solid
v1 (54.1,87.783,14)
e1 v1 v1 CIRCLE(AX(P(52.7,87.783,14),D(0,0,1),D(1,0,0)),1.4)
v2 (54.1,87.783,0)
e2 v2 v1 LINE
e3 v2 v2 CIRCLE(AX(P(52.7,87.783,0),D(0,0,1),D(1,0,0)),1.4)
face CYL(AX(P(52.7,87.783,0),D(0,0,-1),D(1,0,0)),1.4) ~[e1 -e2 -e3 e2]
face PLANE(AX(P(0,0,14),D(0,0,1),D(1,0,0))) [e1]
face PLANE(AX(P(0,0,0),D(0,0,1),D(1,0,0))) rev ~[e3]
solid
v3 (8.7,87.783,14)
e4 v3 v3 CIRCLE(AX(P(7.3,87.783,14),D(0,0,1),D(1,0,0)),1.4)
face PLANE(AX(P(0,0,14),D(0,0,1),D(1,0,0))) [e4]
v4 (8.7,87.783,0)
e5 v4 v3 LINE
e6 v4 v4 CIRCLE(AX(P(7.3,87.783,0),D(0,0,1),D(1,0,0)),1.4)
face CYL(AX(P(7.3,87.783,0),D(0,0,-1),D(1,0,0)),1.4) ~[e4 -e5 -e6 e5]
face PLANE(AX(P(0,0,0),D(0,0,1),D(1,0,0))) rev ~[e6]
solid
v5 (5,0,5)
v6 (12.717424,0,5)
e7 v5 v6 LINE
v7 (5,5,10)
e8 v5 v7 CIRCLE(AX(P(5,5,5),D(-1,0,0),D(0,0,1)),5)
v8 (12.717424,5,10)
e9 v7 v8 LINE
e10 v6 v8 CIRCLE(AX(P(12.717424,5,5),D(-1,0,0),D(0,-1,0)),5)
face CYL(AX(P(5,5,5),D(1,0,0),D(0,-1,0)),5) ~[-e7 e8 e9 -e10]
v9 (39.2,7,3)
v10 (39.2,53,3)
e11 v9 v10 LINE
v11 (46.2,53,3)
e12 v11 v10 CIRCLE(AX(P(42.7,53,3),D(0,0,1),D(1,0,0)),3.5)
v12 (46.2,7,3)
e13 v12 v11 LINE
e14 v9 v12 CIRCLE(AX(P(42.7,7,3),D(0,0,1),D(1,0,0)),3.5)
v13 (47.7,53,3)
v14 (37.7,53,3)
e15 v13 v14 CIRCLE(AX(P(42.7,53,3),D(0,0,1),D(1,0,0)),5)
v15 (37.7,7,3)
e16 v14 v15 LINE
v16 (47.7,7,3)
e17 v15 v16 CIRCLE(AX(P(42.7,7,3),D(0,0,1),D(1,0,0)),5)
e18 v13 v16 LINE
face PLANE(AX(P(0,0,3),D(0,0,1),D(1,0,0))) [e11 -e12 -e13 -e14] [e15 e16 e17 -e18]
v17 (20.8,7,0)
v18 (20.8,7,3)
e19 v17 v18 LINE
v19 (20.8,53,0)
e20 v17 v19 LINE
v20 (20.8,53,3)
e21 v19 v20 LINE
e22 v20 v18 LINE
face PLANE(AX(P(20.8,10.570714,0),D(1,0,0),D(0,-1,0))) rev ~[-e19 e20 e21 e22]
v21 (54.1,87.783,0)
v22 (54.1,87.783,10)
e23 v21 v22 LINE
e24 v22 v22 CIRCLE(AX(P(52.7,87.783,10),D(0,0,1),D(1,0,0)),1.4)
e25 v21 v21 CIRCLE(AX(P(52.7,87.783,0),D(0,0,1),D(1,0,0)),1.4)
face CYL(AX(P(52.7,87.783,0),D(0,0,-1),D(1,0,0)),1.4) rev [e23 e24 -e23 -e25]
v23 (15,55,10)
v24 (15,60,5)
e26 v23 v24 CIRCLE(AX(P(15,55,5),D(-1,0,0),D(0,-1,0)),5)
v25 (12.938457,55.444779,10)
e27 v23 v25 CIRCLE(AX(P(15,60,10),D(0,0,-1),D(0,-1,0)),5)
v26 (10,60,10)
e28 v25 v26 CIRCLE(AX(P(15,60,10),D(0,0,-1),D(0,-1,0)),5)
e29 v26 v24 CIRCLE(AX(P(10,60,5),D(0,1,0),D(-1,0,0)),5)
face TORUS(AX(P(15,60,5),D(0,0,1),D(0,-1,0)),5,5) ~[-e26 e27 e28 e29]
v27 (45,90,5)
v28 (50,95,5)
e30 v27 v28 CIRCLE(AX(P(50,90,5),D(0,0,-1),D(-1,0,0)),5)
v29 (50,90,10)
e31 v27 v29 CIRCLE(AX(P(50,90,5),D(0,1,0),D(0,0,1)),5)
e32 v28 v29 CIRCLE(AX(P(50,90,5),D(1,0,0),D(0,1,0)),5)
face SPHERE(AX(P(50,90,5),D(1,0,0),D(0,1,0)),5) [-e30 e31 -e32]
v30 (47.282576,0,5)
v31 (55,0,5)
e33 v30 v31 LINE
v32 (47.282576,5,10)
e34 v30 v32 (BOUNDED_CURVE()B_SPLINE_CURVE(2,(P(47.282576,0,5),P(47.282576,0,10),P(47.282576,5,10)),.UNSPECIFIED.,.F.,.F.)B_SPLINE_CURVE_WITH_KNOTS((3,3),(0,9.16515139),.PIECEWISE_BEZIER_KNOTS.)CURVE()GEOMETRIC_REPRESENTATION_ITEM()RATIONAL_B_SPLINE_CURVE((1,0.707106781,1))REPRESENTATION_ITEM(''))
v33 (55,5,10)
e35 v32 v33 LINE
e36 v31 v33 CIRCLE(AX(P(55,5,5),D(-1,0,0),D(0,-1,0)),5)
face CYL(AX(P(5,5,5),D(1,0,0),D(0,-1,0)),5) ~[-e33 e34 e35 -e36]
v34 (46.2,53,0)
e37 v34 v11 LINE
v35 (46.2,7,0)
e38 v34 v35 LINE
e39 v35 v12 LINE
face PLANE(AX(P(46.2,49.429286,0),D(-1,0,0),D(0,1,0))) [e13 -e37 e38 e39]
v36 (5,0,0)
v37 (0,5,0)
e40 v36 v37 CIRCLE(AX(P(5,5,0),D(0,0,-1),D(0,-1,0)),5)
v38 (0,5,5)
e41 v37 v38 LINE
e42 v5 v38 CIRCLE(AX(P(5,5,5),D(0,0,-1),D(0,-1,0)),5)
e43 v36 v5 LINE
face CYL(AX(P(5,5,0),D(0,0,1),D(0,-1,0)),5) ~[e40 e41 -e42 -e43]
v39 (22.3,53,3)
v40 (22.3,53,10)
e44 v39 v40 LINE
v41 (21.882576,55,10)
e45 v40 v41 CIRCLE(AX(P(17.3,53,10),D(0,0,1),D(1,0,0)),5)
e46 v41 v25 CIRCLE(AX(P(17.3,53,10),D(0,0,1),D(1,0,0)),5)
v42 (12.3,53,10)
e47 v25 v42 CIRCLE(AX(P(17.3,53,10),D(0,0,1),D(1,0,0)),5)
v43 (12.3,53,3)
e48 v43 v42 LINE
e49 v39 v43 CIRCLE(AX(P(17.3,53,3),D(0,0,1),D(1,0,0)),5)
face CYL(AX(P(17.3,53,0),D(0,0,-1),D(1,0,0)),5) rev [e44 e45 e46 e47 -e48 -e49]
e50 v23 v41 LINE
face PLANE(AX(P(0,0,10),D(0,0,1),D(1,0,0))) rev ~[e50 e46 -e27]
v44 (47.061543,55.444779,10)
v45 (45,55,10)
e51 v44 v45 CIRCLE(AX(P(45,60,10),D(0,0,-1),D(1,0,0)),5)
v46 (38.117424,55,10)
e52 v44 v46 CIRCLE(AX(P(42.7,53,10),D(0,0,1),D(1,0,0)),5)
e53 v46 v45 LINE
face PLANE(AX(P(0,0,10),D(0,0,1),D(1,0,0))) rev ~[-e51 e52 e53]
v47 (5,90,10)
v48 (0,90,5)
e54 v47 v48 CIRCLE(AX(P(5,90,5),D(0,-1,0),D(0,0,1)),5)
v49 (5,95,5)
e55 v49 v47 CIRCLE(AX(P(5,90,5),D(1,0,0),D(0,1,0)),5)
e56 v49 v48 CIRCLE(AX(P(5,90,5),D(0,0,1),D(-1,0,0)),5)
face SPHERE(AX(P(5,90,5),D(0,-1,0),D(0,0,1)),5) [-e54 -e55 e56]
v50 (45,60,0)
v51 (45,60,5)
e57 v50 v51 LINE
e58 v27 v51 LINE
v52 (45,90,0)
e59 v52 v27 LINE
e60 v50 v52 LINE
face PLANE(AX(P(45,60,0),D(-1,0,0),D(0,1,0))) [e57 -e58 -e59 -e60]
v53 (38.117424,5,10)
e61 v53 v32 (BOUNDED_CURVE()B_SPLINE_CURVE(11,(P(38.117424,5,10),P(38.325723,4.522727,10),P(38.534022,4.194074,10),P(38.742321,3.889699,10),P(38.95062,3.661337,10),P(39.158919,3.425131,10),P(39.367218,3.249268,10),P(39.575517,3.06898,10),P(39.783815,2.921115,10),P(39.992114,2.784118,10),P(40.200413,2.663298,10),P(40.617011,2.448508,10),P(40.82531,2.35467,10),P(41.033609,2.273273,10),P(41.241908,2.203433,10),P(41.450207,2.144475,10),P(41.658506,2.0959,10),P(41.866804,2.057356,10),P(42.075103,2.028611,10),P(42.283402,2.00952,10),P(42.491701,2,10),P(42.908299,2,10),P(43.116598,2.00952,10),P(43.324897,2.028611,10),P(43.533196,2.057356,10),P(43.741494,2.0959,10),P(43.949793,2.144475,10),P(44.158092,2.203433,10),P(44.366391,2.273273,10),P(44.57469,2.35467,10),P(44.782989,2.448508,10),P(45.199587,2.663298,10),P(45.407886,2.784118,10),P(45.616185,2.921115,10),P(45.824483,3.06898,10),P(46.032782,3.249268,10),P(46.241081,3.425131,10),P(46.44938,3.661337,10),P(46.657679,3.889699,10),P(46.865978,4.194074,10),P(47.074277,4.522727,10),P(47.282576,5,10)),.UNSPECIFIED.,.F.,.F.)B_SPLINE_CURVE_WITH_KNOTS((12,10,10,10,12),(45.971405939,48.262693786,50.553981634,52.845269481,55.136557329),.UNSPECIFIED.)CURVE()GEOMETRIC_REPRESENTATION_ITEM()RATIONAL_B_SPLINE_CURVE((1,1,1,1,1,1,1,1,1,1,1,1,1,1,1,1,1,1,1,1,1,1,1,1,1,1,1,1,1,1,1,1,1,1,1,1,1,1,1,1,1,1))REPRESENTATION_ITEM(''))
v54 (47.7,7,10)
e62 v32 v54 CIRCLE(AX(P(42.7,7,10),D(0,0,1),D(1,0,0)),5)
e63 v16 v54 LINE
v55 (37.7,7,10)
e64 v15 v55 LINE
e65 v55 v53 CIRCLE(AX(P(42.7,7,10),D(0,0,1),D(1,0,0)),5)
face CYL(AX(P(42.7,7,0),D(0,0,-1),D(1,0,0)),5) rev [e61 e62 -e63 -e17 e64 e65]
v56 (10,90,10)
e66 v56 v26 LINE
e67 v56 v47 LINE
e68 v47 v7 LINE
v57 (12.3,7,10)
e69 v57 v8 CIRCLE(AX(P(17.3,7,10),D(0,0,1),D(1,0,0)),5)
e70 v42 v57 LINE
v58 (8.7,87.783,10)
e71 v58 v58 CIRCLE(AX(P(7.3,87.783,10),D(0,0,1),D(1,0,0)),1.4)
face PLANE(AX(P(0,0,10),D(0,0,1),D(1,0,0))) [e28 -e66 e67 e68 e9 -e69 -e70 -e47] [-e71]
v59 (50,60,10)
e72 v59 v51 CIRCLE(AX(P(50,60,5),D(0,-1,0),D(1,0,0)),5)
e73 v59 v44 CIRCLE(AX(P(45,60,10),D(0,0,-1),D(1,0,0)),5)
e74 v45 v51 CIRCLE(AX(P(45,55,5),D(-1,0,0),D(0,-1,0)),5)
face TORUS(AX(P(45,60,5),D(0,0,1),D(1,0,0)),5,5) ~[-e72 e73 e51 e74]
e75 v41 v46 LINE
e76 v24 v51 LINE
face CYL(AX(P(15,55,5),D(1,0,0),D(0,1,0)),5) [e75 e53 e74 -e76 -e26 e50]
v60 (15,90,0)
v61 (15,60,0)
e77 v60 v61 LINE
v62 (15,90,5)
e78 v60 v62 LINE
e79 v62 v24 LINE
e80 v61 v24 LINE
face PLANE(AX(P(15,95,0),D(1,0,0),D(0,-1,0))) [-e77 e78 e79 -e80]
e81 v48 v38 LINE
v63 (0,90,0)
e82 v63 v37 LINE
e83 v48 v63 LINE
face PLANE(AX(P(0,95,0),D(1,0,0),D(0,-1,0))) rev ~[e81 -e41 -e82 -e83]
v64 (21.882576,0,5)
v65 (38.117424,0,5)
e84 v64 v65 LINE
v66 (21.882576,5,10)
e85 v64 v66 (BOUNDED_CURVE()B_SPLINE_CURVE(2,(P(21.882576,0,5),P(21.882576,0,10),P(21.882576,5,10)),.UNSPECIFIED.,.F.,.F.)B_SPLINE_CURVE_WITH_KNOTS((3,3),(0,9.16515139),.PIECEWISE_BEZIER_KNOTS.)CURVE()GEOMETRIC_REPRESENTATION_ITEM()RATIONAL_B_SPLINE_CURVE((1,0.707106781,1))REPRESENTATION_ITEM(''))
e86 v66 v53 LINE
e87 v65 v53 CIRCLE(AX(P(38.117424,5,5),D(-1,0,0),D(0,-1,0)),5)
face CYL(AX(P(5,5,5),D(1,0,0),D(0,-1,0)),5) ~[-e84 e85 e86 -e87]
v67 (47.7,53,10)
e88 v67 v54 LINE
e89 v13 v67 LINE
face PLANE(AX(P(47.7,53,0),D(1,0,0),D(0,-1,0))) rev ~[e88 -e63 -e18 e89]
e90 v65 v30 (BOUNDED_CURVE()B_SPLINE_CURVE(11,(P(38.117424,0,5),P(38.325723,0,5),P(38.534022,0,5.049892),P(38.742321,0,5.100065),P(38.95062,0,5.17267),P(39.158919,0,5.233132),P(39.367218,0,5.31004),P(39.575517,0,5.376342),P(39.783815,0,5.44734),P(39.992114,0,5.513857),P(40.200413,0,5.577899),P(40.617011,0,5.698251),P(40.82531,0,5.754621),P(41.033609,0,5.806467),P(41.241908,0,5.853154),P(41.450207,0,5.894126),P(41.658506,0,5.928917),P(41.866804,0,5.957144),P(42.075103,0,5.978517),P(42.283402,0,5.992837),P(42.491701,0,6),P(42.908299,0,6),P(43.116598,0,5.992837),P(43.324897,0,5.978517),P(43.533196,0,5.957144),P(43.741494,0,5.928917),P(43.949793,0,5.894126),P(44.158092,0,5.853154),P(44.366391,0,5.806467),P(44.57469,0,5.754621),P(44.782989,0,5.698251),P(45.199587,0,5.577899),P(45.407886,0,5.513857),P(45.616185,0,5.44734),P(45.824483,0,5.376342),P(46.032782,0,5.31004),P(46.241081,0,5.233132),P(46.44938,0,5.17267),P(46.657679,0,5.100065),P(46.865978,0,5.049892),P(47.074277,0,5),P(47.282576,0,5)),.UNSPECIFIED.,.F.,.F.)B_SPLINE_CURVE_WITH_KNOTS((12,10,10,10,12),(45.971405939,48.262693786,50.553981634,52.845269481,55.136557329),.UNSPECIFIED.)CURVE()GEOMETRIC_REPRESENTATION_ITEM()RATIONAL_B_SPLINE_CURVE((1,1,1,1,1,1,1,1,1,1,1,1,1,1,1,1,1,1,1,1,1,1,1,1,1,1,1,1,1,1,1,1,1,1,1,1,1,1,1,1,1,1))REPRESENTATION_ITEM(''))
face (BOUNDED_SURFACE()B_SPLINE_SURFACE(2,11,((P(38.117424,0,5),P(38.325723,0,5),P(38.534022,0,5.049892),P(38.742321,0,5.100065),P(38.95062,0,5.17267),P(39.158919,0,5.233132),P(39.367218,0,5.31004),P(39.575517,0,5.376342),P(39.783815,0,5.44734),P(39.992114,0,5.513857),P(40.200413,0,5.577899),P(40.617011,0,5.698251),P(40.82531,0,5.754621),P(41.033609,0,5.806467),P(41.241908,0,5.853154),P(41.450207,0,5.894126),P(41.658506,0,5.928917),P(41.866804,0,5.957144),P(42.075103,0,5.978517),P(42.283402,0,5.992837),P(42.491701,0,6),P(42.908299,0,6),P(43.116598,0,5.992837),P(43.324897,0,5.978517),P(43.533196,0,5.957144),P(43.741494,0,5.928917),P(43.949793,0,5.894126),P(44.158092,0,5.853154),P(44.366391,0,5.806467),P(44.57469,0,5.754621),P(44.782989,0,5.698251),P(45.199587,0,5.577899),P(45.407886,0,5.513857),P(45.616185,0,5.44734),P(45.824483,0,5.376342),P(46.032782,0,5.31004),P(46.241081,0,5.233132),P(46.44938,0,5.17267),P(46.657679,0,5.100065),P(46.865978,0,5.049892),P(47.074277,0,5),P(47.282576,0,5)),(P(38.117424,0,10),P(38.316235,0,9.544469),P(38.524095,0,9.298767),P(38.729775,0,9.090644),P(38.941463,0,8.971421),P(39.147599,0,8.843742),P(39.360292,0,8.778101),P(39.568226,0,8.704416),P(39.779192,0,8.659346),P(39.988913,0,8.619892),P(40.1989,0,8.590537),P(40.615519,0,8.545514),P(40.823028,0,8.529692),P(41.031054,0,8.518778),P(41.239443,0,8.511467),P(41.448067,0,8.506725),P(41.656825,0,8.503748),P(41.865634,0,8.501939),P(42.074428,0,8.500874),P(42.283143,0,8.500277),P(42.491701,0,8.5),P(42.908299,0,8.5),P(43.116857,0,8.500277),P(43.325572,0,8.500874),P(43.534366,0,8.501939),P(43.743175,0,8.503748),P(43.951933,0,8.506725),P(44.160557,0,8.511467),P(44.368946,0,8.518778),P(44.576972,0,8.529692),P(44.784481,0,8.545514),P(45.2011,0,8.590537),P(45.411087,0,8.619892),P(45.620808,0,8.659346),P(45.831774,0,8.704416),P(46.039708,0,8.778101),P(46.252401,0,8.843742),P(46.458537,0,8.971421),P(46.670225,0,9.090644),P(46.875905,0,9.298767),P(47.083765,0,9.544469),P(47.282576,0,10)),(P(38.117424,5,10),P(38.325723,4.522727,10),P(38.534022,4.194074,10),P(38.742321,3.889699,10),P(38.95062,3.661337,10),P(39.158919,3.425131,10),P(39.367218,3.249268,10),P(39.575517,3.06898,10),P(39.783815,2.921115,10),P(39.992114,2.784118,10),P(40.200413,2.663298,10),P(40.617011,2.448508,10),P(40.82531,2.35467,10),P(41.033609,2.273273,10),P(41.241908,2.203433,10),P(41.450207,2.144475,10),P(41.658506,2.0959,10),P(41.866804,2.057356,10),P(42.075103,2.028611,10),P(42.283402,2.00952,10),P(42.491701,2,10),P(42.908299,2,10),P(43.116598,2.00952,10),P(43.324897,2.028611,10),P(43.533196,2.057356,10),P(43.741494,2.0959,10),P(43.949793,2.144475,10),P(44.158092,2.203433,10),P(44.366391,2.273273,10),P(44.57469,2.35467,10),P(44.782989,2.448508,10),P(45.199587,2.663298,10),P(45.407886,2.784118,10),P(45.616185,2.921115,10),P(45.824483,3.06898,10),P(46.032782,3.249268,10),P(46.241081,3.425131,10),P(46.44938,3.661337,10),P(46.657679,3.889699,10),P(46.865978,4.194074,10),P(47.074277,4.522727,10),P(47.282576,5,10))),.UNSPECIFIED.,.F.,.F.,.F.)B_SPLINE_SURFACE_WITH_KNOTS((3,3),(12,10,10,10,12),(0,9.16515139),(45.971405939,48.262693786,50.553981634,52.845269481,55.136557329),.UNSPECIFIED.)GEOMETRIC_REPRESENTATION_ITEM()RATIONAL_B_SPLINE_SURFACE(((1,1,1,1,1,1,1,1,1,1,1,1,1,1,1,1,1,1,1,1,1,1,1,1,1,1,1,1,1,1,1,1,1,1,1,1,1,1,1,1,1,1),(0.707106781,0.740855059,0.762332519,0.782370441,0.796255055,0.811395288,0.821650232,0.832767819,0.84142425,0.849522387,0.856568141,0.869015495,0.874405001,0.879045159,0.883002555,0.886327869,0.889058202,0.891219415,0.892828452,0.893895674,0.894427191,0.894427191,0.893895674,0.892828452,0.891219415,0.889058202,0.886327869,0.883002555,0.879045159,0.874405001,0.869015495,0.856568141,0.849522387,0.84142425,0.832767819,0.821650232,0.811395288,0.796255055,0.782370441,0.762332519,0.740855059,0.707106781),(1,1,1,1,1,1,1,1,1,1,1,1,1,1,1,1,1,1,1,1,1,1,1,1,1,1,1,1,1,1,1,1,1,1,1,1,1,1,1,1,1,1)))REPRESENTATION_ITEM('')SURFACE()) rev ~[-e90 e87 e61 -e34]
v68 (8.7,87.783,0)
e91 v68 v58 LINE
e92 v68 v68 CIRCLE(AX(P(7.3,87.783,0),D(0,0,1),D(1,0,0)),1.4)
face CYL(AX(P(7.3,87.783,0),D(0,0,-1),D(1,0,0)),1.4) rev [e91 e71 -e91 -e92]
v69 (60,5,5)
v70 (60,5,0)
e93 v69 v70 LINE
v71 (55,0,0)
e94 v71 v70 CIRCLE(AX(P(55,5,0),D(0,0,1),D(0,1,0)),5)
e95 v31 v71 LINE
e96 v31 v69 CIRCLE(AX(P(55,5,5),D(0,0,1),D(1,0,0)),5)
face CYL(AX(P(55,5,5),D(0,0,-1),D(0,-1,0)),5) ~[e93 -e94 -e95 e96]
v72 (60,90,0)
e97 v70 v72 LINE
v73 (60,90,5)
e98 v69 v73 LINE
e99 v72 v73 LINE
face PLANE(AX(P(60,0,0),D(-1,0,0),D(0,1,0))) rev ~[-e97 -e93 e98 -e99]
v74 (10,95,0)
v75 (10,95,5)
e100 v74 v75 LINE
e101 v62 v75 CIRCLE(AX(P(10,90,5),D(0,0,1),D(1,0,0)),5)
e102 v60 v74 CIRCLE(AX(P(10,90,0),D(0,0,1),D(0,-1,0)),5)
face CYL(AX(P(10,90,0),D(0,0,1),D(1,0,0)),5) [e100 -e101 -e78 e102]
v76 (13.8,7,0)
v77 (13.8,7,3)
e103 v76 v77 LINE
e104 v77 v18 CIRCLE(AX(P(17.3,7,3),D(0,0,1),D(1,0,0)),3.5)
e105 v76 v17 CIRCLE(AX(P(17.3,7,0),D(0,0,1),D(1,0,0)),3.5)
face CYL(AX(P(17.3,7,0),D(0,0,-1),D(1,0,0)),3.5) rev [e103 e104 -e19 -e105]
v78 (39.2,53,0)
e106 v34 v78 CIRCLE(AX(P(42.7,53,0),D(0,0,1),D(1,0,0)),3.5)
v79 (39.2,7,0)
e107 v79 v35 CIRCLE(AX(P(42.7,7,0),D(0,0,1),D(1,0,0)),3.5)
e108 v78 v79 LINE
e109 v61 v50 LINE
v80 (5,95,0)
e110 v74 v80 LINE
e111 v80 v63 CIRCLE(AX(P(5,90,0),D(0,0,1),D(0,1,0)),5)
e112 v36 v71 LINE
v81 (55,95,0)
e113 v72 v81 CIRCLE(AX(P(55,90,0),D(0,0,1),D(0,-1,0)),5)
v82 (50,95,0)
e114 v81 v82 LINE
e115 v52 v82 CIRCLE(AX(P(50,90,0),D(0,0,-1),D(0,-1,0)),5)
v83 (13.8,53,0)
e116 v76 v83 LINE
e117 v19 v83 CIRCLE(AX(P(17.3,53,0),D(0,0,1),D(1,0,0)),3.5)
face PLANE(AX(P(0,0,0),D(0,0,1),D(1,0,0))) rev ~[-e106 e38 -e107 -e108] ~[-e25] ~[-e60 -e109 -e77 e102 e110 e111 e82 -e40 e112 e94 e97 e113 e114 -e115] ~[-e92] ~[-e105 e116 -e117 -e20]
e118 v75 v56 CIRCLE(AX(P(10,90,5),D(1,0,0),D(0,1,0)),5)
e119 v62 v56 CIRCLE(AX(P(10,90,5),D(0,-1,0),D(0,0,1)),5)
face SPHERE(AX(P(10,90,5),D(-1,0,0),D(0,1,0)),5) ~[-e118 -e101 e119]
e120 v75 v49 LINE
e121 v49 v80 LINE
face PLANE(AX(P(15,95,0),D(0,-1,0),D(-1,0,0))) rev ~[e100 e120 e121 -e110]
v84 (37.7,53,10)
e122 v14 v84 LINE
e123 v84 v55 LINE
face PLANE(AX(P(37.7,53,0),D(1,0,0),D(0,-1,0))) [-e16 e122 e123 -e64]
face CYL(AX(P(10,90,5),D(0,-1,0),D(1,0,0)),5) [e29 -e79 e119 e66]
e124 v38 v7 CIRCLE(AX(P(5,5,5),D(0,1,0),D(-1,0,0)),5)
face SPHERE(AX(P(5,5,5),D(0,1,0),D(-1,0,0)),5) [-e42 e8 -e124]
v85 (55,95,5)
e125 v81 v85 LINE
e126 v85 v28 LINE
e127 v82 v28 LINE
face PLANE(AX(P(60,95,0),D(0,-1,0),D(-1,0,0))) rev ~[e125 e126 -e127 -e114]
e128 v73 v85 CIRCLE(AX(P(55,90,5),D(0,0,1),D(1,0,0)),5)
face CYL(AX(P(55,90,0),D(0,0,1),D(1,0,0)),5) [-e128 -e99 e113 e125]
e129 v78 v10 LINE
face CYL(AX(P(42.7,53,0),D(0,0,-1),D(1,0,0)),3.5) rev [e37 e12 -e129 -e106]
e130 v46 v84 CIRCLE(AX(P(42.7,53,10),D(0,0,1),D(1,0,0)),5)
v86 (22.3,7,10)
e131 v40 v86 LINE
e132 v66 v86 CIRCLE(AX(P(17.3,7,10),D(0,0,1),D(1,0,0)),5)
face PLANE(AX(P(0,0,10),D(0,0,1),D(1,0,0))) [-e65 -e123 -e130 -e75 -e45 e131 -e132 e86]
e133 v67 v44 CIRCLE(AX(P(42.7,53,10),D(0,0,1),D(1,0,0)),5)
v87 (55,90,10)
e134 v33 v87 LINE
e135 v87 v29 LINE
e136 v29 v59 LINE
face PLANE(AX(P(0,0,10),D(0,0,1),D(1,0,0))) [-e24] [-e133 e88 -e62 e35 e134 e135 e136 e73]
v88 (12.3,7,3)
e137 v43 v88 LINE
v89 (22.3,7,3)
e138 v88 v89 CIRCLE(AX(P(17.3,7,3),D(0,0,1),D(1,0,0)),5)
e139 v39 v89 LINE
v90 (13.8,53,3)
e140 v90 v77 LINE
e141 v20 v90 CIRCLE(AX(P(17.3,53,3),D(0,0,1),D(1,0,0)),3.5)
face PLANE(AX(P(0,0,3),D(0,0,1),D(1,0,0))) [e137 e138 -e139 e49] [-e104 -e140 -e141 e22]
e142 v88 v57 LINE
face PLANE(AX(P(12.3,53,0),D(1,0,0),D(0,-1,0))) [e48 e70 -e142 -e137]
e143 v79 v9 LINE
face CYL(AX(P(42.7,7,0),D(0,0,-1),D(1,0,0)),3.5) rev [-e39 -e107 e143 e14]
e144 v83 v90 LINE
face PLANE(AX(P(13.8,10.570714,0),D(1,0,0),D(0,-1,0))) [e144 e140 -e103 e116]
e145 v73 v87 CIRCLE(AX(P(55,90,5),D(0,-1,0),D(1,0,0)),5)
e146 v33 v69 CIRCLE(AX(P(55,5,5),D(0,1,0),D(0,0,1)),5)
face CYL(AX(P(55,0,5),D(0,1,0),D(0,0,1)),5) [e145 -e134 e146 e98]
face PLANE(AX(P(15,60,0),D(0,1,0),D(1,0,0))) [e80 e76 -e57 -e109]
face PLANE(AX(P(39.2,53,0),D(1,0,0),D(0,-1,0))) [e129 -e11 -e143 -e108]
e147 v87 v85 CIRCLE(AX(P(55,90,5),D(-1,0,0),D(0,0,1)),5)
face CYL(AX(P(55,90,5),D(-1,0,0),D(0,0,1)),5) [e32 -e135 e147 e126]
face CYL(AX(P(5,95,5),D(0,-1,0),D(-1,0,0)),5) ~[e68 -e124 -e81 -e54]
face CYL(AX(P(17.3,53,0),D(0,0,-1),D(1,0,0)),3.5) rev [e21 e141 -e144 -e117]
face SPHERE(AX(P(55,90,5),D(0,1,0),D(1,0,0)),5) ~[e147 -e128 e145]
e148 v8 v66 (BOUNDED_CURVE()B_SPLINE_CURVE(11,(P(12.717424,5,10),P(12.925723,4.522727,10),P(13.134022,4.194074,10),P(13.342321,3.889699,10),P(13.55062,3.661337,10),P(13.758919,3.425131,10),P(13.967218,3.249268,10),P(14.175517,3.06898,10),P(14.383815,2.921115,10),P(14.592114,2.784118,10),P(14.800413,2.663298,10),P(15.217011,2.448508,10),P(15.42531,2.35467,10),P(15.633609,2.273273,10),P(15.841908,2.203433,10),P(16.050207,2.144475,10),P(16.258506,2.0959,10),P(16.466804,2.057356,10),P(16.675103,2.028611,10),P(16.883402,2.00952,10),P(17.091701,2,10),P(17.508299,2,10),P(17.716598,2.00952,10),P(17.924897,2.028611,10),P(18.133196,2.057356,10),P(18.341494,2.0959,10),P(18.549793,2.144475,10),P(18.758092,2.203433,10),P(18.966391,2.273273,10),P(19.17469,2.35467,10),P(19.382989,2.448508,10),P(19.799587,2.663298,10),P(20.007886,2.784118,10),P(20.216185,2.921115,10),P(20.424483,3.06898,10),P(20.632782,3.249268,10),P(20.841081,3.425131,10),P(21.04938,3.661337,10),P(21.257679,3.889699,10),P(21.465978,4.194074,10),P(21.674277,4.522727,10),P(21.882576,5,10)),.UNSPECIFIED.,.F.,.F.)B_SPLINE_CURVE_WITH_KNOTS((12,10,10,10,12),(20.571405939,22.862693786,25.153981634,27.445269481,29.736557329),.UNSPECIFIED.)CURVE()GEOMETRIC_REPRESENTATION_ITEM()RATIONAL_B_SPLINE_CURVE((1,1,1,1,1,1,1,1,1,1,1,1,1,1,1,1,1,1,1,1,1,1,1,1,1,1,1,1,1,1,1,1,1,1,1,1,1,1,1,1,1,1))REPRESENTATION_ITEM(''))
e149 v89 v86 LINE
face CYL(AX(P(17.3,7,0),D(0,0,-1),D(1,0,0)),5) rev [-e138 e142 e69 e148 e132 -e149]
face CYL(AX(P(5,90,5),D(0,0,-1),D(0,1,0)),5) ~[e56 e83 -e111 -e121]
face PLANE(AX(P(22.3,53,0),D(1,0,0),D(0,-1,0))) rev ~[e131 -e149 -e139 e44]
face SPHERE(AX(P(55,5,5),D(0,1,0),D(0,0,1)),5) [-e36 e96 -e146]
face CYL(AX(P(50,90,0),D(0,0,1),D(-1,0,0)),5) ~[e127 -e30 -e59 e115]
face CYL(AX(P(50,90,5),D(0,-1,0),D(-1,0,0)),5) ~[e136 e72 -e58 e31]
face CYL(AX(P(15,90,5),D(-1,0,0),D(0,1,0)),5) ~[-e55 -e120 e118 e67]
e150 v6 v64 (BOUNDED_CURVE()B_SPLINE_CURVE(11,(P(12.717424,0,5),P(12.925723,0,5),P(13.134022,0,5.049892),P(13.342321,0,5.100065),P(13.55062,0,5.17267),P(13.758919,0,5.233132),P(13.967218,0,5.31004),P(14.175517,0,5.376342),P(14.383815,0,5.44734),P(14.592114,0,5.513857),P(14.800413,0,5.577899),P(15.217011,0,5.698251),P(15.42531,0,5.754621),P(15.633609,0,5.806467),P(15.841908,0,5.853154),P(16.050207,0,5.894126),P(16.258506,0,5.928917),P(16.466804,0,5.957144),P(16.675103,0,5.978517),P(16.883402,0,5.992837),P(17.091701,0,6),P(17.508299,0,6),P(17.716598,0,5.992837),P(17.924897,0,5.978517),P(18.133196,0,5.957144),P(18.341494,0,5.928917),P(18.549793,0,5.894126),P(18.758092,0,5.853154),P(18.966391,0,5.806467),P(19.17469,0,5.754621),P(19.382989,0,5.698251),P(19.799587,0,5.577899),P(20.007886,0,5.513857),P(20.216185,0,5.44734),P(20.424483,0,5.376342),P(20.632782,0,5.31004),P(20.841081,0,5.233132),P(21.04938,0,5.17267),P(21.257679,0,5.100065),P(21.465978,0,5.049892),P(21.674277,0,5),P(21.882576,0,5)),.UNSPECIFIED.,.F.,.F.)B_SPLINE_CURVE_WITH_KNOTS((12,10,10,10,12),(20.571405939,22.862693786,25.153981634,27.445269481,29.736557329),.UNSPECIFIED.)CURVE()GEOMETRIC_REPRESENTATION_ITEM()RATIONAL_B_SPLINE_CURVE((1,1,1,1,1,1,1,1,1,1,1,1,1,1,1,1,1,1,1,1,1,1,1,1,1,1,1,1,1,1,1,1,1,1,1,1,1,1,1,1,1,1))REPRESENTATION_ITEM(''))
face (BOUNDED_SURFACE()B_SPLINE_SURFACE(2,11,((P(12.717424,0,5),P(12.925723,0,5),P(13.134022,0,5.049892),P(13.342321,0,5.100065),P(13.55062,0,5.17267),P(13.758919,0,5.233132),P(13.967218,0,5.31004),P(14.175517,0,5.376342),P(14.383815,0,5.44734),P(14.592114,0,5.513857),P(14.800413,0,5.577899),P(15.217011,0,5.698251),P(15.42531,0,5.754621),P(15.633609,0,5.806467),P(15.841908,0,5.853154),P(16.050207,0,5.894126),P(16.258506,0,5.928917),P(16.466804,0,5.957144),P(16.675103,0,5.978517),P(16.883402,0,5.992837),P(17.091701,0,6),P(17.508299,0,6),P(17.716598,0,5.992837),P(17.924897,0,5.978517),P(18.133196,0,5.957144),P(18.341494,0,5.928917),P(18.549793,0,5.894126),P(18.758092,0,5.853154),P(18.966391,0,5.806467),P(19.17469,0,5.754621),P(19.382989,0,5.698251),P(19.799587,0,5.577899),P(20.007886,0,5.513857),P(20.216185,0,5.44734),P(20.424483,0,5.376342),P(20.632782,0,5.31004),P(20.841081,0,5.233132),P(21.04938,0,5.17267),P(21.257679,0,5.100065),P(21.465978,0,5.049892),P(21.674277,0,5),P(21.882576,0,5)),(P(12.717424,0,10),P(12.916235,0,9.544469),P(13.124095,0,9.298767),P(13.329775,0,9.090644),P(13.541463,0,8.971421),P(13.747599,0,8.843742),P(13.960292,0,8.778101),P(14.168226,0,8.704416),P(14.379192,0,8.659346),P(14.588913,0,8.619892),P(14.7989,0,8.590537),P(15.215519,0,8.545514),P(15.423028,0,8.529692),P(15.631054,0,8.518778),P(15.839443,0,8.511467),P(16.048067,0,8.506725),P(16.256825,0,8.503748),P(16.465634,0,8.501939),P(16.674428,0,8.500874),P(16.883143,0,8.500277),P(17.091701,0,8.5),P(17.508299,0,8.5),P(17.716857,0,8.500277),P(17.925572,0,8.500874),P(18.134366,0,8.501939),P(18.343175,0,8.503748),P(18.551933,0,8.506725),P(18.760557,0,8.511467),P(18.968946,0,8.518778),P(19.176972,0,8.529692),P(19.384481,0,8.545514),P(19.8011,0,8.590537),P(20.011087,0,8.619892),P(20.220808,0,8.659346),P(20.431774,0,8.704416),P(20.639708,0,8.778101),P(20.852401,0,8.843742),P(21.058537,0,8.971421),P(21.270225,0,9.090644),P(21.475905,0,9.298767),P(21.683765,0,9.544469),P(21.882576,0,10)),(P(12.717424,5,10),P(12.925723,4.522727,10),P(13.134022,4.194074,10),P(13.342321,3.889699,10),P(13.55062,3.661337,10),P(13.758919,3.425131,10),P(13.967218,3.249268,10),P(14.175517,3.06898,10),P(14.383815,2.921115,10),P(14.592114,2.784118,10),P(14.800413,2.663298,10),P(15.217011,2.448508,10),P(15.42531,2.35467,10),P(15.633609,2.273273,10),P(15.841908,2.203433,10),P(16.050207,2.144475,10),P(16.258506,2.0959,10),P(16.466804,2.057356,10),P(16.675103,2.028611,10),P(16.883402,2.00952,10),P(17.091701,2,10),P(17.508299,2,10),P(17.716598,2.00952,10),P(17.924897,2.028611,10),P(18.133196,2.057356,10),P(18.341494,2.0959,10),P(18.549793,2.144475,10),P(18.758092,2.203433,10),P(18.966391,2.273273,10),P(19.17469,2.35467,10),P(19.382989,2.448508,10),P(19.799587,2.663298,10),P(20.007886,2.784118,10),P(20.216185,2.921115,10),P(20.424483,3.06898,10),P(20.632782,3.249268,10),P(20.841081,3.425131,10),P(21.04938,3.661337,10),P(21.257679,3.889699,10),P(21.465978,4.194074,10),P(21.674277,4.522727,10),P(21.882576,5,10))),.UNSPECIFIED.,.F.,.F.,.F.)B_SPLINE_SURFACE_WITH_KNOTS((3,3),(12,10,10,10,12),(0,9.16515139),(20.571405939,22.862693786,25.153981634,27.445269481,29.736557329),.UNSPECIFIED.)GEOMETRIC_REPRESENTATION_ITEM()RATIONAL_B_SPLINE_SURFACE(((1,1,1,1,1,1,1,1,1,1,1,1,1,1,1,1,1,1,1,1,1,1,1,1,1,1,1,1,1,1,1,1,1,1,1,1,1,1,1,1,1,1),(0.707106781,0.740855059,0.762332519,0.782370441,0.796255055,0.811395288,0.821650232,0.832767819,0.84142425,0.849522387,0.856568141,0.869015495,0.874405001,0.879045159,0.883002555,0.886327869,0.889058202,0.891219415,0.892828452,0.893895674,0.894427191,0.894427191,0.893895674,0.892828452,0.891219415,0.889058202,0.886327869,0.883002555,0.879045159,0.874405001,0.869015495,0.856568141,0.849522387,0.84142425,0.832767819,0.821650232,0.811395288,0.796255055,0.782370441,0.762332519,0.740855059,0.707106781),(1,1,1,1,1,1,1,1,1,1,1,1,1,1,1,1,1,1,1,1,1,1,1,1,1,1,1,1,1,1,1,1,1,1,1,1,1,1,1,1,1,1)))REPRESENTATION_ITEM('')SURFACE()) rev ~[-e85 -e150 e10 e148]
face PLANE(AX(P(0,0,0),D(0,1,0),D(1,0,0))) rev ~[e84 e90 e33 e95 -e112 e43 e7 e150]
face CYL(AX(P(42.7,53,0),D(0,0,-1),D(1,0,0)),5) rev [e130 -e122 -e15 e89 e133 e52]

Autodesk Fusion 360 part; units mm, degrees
sketch "Sketch1" plane through (0, 0, 0) normal (0, 0, 1) x (1, 0, 0)
  line L0 (0, 0) -> (60, 0)
  line L1 (60, 0) -> (60, 95)
  line L2 (60, 95) -> (0, 95)
  line L3 (0, 95) -> (0, 0)
  line L4 (60, 60) -> (0, 60) construction
  line L5 (0, 0) -> (60, 60) construction
  line L6 (0, 60) -> (60, 0) construction
  line L7 (30, 30) -> (30, 60) construction
  line L8 (30, 30) -> (30, 0) construction
  line L9 (42.7, 60) -> (42.7, 0) construction
  line L10 (17.3, 60) -> (17.3, 0) construction
  line L11 (45, 95) -> (45, 60) construction
  line L12 (15, 95) -> (15, 60) construction
  line L13 (52.7, 95) -> (52.7, 60) construction
  line L14 (7.3, 95) -> (7.3, 60) construction
  line L15 (60, 87.783) -> (0, 87.783) construction
  circle A0 centre (52.7, 87.783) radius 1.4
  circle A1 centre (7.3, 87.783) radius 1.4
  line L16 (15, 95) -> (15, 60)
  line L17 (15, 60) -> (45, 60)
  line L18 (45, 60) -> (45, 95)
  line L19 (0, 53) -> (60, 53) construction
  line L20 (0, 7) -> (60, 7) construction
  circle A2 centre (42.7, 53) radius 5
  circle A3 centre (42.7, 7) radius 5
  circle A4 centre (17.3, 7) radius 5
  circle A5 centre (17.3, 53) radius 5
  circle A6 centre (17.3, 53) radius 3.5
  circle A7 centre (17.3, 7) radius 3.5
  circle A8 centre (42.7, 53) radius 3.5
  circle A9 centre (42.7, 7) radius 3.5
  line L21 (12.3, 53) -> (12.3, 7)
  line L22 (22.3, 53) -> (22.3, 7)
  line L23 (13.8, 53) -> (13.8, 7)
  line L24 (20.8, 53) -> (20.8, 7)
  line L25 (37.7, 53) -> (37.7, 7)
  line L26 (39.2, 53) -> (39.2, 7)
  line L27 (46.2, 7) -> (46.2, 53)
  line L28 (47.7, 53) -> (47.7, 7)
  dimension "d1" = 60
  dimension "d2" = 95
  dimension "d3" = 35
  dimension "d4" = 12.7
  dimension "d5" = 12.7
  dimension "d6" = 15
  dimension "d7" = 15
  dimension "d8" = 7.3
  dimension "d9" = 7.3
  dimension "d10" = 27.783
  dimension "d11" = 2.8
  dimension "d12" = 2.8
  dimension "d13" = 7
  dimension "d14" = 7
  dimension "d15" = 10
  dimension "d16" = 10
  dimension "d17" = 10
  dimension "d18" = 10
  dimension "d19" = 7
  dimension "d20" = 7
  dimension "d21" = 7
  dimension "d22" = 7
extrude "Extrude1" add sketch "Sketch1" along normal blind 10 contours L0 L1 L2 L3 L16 L17 L18 makes body 1
extrude "Extrude2" add sketch "Sketch1" along normal blind 3 contours A2 A8 L26 L27 | A2 A3 L27 L28 | A2 A3 L25 L26 | A3 A9 L26 L27 | A4 A7 L23 L24 | A4 A5 L21 L23 | A4 A5 L22 L24 | A5 A6 L23 L24 picked at (45.1558, 56.7568) picked at (47.1684, 6.5777) picked at (21.7684, 6.5777) picked at (14.3117, 56.3488) bodies 1
extrude "Extrude3" add sketch "Sketch1" along normal blind 14 separate body contours A0 | A1 makes body 2 at (51.8828, 86.6463, 9.3333) makes body 3 at (6.0099, 87.2392, 9.3333)
fillet "Fillet1" radius 5 1 edges at (0, 47.5, 10) on bodies 1
fillet "Fillet2" radius 5 1 edges at (60, 47.5, 10) on bodies 1
fillet "Fillet3" radius 5 5 edges at (0, 0, 2.5) (1.4645, 0, 8.5355) (30, 0, 10) (58.5355, 0, 8.5355) (60, 0, 2.5) on bodies 1
fillet "Fillet4" radius 5 6 edges at (60, 95, 2.5) (58.5355, 95, 8.5355) (50, 95, 10) (10, 95, 10) (1.4645, 95, 8.5355) (0, 95, 2.5) on bodies 1
fillet "Fillet5" radius 5 7 edges at (45, 95, 2.5) (45, 93.5355, 8.5355) (45, 75, 10) (30, 60, 10) (15, 75, 10) (15, 93.5355, 8.5355) (15, 95, 2.5) on bodies 1
